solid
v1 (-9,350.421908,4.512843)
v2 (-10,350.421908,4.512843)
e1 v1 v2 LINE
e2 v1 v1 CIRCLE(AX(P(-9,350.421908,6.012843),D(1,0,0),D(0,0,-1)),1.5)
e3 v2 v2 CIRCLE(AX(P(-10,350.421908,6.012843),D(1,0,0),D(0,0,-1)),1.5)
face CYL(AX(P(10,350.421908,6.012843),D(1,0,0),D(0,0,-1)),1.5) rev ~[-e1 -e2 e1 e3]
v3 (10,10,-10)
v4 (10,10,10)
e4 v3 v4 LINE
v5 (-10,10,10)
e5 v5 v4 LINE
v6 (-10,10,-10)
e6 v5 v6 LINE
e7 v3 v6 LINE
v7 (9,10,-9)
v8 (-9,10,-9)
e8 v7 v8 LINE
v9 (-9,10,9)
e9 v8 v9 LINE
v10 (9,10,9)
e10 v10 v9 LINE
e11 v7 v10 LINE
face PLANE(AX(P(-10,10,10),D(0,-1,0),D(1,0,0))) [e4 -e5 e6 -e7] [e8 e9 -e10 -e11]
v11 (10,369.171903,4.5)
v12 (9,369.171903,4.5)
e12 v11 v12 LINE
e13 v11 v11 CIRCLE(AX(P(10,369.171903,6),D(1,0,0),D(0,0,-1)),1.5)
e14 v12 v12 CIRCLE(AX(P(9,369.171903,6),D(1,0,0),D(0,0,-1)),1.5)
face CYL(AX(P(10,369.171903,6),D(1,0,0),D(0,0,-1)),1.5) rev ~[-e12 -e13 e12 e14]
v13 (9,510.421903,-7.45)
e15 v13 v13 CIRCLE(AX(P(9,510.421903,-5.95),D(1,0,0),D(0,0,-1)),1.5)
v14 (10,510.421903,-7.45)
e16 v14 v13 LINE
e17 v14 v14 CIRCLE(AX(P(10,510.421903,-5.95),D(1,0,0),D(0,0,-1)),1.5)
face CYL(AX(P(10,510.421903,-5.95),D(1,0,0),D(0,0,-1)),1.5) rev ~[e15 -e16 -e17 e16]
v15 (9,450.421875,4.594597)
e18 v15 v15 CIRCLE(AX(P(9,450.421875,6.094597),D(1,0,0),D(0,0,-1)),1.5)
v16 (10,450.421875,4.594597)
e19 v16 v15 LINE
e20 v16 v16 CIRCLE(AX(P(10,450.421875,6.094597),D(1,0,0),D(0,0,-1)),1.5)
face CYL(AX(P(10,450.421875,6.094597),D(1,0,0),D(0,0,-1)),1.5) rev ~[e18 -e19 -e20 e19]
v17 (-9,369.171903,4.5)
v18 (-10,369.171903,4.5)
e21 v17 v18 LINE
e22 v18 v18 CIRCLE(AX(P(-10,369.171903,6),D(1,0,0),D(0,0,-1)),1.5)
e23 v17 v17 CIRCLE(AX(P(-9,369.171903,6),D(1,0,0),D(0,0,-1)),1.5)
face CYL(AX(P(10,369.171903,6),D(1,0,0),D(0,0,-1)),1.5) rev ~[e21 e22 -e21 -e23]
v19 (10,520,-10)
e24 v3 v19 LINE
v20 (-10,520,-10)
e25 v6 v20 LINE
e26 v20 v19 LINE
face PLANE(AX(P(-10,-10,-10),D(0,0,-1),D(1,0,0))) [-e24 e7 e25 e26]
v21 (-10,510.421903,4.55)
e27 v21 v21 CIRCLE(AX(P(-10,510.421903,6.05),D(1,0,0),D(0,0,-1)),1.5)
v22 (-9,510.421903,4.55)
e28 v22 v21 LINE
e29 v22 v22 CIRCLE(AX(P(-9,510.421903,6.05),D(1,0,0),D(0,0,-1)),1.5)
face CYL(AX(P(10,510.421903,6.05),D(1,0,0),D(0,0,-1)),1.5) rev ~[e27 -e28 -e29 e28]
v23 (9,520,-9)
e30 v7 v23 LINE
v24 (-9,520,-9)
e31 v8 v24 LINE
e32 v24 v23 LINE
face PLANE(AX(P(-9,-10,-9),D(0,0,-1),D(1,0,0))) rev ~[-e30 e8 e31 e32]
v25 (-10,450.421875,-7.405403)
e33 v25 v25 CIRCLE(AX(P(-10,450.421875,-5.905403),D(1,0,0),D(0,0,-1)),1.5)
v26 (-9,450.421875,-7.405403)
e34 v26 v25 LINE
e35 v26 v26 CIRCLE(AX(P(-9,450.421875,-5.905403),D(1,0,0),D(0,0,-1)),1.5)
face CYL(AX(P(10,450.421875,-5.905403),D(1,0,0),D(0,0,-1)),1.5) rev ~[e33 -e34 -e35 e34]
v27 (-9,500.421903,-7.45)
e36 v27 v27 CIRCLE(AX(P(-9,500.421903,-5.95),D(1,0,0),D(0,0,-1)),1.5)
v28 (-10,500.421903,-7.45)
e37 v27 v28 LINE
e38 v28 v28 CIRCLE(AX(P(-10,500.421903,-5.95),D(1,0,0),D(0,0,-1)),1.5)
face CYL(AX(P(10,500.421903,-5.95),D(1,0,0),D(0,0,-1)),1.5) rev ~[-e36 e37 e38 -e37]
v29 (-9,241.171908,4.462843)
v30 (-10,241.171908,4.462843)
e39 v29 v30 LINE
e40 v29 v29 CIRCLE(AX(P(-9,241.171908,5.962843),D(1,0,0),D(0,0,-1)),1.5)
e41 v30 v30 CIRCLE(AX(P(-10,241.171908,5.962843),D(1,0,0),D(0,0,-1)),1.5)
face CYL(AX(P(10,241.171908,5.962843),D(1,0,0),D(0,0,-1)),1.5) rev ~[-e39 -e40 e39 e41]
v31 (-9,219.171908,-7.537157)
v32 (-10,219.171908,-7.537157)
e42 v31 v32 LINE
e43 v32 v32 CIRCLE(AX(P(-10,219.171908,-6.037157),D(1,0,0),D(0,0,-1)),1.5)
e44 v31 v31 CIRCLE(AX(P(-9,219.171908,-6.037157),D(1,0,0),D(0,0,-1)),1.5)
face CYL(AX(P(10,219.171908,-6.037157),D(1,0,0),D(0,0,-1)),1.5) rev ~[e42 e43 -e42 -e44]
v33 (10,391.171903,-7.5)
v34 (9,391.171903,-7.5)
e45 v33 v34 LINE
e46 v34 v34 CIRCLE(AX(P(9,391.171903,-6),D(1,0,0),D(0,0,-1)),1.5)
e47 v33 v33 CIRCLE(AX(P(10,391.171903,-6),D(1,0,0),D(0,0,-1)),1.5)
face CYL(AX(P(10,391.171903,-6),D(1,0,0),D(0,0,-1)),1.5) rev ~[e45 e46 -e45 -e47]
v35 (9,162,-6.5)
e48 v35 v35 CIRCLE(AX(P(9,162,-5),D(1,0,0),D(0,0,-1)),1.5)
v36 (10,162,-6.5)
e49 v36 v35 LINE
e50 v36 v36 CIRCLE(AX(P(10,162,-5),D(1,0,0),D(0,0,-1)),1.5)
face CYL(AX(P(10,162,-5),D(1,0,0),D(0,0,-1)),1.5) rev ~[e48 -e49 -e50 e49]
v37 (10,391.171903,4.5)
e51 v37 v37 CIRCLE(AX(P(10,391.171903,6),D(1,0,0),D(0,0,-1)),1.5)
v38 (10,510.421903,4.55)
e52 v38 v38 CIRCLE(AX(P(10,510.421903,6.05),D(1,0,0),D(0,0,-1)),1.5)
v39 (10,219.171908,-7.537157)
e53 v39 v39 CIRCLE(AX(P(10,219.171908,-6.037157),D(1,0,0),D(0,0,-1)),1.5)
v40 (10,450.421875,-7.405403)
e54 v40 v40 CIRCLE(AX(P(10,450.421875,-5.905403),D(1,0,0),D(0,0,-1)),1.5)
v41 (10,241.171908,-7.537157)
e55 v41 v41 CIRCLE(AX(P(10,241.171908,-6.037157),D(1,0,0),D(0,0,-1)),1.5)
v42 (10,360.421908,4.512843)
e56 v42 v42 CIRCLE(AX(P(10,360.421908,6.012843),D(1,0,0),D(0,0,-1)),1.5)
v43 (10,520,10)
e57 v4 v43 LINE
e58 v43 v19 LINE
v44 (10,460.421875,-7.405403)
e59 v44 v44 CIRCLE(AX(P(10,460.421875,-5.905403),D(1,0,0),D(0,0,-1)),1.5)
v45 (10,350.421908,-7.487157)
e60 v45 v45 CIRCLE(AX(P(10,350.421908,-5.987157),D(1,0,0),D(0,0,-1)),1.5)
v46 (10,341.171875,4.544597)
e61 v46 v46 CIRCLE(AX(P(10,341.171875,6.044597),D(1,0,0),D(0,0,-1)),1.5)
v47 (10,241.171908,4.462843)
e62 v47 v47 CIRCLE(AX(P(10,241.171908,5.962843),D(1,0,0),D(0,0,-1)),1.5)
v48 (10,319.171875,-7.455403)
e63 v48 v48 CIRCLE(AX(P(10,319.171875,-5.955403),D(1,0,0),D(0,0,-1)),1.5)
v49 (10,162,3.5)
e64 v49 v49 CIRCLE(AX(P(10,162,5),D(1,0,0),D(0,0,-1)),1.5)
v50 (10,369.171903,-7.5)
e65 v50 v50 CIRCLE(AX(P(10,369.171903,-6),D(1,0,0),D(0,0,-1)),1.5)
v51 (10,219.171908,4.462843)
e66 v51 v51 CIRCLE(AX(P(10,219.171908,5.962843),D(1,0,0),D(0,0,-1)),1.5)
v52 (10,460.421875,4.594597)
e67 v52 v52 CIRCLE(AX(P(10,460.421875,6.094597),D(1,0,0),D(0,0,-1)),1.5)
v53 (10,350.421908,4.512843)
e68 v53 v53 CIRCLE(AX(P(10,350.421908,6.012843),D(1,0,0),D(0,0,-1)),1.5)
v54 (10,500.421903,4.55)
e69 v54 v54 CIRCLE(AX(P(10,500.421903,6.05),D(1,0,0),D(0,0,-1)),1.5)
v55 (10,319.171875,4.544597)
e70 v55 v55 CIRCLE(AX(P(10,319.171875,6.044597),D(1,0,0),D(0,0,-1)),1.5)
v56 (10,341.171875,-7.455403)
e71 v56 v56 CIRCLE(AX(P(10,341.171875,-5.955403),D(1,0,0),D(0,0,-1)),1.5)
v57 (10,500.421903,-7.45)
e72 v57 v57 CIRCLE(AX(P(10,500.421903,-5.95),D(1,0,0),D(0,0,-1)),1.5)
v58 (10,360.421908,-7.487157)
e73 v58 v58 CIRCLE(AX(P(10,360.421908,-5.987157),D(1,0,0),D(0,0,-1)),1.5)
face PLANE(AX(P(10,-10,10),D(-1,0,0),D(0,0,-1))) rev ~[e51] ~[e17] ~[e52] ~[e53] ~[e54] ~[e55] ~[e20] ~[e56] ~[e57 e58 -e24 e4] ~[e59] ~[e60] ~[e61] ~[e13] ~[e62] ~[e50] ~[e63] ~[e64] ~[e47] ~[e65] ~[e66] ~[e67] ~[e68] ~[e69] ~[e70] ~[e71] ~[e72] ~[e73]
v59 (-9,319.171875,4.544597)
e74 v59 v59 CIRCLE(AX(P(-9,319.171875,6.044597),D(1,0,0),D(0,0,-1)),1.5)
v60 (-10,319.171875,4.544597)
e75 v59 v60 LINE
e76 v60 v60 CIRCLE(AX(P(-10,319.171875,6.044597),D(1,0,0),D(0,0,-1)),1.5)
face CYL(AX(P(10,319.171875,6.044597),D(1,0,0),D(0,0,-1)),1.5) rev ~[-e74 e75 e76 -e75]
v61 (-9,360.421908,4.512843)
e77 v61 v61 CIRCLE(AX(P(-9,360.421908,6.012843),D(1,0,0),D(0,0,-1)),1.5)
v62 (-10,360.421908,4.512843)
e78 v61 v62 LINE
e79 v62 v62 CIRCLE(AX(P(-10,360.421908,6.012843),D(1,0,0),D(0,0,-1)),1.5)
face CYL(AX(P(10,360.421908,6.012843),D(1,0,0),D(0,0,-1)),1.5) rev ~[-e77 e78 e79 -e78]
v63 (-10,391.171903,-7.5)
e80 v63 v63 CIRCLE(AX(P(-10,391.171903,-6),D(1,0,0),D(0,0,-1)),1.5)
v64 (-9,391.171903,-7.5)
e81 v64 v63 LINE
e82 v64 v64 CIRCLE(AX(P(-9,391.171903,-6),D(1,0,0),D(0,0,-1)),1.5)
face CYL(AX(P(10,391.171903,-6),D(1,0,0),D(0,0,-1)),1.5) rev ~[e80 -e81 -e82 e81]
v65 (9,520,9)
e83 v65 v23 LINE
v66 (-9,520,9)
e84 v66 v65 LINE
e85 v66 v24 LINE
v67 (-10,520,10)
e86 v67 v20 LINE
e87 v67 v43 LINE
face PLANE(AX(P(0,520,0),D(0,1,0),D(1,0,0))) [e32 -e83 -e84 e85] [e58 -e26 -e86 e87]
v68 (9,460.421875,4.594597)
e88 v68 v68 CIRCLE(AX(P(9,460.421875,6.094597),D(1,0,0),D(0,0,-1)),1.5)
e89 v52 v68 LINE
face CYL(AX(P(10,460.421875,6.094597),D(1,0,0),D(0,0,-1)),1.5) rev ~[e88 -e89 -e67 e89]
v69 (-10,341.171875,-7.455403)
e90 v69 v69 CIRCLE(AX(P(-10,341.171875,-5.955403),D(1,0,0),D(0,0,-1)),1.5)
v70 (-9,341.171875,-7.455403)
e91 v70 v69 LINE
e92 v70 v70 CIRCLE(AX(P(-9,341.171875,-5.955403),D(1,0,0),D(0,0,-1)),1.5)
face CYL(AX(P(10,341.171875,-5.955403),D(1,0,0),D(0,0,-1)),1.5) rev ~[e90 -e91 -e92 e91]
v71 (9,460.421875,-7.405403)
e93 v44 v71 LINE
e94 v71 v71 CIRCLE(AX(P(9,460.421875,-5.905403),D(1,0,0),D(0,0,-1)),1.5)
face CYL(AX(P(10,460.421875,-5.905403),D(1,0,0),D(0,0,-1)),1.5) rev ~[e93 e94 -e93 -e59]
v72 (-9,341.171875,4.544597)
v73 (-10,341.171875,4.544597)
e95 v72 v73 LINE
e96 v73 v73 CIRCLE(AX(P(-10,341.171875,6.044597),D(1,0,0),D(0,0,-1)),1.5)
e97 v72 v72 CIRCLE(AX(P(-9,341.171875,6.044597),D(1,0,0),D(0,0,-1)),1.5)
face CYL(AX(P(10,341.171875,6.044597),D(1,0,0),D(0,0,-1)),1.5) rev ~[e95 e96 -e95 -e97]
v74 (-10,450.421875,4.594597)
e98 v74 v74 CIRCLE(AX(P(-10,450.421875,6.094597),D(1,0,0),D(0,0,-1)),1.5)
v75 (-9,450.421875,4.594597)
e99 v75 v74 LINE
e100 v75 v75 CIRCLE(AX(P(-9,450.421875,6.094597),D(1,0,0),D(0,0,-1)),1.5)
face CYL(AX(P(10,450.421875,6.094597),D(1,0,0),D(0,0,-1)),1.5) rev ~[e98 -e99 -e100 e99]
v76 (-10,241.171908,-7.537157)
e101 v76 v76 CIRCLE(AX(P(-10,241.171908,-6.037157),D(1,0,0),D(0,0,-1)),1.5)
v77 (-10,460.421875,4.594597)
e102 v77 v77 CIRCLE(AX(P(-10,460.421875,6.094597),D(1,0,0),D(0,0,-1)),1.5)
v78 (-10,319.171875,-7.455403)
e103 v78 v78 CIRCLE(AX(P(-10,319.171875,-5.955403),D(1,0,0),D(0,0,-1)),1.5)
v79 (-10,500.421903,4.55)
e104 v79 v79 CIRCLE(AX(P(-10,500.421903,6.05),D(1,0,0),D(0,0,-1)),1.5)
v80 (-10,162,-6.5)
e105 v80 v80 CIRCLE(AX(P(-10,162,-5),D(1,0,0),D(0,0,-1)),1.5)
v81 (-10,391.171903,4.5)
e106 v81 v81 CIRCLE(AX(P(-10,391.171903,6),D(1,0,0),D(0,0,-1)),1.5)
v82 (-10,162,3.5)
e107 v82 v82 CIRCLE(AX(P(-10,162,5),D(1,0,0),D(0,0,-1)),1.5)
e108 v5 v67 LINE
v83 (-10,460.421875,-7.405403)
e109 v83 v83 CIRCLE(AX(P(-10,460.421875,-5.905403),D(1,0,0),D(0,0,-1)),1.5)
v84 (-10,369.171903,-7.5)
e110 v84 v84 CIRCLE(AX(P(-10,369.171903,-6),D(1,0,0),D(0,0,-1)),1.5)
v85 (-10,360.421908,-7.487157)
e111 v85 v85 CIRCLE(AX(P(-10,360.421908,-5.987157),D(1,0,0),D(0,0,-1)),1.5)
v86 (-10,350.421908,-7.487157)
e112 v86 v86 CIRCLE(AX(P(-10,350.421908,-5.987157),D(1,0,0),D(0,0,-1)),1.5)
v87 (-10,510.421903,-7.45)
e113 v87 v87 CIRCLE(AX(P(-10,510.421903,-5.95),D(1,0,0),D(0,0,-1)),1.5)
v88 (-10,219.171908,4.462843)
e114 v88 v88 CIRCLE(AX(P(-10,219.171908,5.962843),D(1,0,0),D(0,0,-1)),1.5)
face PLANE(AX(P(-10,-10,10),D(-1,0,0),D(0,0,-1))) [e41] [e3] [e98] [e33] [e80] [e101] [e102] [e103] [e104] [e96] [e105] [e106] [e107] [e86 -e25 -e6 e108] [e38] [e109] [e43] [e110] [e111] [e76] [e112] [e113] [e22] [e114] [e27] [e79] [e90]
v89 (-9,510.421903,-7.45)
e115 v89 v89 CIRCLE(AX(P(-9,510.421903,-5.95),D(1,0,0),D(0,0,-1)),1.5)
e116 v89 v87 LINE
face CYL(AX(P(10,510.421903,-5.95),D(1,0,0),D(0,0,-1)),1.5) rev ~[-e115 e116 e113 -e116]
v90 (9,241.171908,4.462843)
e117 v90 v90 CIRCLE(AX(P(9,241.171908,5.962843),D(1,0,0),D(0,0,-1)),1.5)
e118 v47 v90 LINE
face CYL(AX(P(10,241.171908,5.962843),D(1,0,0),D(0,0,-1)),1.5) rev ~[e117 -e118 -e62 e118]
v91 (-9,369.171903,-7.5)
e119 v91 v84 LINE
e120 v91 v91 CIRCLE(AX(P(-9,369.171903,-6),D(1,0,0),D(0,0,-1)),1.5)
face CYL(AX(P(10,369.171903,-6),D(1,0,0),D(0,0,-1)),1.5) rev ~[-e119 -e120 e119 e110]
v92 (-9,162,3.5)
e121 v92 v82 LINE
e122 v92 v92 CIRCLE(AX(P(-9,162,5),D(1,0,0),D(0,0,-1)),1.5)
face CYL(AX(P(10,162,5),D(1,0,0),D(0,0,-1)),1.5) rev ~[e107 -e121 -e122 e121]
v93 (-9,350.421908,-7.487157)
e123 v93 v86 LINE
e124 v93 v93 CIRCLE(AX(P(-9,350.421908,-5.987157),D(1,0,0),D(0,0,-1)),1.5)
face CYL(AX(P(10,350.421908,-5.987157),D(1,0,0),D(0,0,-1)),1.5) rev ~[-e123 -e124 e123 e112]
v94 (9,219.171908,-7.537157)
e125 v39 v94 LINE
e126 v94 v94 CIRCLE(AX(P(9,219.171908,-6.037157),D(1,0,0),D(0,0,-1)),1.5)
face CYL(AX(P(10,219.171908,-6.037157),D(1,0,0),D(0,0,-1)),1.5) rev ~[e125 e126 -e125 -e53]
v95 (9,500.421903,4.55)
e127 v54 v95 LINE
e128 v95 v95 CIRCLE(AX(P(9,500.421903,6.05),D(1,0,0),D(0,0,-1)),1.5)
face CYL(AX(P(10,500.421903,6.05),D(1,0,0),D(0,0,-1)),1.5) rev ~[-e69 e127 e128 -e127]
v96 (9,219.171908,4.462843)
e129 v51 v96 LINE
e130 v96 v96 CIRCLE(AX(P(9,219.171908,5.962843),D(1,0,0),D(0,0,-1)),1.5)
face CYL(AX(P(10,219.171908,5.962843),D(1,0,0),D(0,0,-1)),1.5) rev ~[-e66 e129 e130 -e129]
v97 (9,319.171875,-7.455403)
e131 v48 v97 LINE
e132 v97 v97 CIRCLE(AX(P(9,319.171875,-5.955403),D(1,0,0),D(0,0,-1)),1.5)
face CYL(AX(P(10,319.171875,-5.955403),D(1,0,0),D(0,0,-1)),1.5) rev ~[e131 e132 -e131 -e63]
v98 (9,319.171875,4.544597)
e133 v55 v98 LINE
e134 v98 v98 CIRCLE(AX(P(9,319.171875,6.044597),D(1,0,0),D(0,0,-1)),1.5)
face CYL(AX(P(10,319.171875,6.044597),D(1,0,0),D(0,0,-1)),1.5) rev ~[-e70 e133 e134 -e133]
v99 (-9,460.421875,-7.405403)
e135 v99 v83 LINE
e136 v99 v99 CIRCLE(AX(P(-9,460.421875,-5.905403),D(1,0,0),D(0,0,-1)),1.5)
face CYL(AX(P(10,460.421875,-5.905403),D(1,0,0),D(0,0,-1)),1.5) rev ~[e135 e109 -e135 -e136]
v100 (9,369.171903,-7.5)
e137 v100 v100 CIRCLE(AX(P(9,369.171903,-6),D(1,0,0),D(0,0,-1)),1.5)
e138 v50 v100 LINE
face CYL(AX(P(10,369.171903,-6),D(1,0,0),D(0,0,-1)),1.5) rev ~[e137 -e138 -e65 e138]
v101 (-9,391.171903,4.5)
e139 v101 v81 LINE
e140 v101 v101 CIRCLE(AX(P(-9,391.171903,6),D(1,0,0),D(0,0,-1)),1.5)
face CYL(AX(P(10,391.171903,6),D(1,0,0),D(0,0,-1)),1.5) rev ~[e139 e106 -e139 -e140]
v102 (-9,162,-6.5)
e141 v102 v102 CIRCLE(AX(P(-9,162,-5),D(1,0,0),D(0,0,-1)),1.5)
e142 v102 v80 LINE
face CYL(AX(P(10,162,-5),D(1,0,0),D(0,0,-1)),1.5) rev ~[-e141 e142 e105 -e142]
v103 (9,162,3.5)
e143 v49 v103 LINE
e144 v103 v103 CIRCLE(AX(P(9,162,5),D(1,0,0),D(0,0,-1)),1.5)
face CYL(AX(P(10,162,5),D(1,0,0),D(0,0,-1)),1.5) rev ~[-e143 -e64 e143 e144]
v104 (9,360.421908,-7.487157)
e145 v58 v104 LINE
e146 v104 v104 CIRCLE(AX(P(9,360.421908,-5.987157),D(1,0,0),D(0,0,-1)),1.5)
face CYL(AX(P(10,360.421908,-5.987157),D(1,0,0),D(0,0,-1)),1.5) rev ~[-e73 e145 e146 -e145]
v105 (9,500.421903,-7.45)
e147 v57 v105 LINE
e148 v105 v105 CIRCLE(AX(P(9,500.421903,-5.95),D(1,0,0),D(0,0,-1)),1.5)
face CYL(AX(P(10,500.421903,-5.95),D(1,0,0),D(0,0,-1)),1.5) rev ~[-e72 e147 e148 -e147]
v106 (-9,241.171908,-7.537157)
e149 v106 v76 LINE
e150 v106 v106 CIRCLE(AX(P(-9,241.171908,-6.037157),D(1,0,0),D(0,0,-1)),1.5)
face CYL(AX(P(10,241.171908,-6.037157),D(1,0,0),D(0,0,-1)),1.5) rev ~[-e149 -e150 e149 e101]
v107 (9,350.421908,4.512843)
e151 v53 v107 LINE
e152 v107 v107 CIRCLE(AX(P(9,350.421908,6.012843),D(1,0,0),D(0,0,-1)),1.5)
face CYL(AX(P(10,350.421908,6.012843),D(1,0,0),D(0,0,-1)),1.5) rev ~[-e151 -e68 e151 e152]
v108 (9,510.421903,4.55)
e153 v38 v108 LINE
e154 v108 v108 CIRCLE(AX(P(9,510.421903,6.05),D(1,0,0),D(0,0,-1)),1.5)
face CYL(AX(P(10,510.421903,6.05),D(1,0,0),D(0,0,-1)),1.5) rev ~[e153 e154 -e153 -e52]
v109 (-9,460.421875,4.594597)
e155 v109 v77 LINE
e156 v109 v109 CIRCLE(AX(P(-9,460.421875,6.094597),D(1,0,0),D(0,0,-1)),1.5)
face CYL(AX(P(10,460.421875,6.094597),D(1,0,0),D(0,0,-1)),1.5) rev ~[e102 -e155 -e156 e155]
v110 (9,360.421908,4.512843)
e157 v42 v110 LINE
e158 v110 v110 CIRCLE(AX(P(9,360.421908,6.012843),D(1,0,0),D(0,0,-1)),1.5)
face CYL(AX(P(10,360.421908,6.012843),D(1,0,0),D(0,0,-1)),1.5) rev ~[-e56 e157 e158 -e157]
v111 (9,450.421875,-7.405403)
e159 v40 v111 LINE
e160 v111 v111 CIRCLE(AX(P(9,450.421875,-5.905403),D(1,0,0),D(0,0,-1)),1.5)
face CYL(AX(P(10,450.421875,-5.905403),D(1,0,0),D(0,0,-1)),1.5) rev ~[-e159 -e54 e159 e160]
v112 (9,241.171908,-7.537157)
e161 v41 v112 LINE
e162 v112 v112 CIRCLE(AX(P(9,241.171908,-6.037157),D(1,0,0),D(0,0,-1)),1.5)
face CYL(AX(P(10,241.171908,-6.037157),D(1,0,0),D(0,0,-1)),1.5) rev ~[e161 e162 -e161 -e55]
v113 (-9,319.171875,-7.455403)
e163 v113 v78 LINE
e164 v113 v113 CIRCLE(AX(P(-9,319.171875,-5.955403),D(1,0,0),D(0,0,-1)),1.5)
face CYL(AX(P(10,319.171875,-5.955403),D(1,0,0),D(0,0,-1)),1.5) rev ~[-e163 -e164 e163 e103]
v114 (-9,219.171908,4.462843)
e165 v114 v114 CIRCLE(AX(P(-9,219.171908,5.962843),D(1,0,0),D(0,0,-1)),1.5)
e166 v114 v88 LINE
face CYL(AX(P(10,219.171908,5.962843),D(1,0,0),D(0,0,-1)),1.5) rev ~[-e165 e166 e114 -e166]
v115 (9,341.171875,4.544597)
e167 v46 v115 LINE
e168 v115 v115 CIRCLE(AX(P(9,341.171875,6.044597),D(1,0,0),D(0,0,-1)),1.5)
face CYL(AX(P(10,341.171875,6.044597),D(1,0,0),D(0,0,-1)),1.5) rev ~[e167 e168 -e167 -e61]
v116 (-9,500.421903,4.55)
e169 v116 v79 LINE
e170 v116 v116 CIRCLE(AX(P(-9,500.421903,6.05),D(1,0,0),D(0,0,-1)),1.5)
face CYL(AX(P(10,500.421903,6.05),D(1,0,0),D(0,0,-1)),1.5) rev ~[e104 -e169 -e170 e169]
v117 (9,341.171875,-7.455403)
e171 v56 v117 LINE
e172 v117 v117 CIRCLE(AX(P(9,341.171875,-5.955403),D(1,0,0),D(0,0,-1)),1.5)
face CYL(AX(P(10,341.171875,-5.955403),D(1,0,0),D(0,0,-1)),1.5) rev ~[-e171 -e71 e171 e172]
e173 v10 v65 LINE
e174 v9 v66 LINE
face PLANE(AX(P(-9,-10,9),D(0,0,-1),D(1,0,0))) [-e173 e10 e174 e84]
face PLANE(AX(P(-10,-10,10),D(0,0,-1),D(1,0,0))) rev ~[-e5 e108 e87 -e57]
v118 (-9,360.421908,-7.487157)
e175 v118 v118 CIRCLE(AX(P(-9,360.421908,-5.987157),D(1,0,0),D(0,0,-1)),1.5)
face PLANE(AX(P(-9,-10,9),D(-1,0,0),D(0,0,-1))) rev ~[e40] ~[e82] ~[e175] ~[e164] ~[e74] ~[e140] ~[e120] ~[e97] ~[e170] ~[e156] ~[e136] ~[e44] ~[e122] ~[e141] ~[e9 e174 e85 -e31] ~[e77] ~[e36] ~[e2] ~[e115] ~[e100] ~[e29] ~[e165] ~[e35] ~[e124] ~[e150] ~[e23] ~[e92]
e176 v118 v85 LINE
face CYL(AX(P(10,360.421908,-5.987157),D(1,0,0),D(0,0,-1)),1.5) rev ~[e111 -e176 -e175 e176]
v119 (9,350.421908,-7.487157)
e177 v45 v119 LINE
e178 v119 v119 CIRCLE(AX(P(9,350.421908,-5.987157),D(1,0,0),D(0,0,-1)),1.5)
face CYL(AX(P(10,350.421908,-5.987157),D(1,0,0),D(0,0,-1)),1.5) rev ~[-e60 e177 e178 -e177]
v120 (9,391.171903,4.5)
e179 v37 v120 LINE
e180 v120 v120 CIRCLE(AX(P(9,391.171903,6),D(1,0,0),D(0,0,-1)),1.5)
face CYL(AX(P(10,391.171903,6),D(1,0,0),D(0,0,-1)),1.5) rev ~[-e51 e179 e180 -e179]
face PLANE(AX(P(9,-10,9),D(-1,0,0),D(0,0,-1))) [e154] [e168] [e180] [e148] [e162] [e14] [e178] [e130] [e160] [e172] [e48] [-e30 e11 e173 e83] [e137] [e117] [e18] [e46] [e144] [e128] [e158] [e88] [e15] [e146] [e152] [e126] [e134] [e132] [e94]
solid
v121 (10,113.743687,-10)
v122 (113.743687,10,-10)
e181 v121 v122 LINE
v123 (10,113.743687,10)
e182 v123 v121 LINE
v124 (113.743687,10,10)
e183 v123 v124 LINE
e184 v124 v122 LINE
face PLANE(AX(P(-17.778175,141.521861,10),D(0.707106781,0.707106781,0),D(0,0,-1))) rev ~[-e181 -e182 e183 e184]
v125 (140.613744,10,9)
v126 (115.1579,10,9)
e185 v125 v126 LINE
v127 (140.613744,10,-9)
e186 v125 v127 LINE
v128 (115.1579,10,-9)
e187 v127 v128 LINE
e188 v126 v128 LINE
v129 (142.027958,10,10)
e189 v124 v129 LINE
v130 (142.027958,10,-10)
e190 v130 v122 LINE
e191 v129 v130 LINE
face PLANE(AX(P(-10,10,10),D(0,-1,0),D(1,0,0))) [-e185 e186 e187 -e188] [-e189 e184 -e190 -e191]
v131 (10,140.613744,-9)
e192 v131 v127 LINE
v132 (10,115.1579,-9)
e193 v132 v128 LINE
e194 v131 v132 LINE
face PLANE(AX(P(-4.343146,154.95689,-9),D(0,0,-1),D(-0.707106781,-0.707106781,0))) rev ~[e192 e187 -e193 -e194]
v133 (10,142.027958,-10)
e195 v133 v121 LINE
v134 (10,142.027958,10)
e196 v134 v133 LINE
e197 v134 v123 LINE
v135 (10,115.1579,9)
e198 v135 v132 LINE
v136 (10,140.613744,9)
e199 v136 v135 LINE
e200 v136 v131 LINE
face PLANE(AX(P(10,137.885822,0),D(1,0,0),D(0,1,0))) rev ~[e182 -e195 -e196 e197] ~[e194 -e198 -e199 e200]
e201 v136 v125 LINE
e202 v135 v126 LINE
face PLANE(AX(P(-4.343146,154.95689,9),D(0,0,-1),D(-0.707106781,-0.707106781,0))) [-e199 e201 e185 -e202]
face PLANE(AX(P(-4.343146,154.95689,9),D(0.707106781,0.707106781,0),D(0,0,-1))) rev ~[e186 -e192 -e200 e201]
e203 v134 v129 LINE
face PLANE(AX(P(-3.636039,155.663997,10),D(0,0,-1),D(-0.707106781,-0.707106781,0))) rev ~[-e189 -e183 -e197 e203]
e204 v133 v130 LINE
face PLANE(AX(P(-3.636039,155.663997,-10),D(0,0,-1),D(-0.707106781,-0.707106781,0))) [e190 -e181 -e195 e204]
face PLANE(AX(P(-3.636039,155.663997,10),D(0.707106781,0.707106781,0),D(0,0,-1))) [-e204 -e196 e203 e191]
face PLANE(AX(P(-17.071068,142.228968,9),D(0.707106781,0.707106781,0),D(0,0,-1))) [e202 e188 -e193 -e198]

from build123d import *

# Parameters (mm, degrees)
HS_20X20X1_1_DEPTH        = 520
HS_20X20X1_1_DEPTH_BACK   = 10
SKETCH_1_W                = 20
SKETCH_1_H                = 20
SKETCH_1_W_2              = 18
SKETCH_1_H_2              = 18
SKETCH_1_ON_SEGMENT_2_W   = 20
SKETCH_1_ON_SEGMENT_2_H   = 20
SKETCH_1_ON_SEGMENT_2_W_2 = 18
SKETCH_1_ON_SEGMENT_2_H_2 = 18
HS_20X20X1_1_2_DEPTH      = 210.142135624
SKETCH_1_ON_SEGMENT_3_W   = 20
SKETCH_1_ON_SEGMENT_3_H   = 20
SKETCH_1_ON_SEGMENT_3_W_2 = 18
SKETCH_1_ON_SEGMENT_3_H_2 = 18
HS_20X20X1_1_3_DEPTH      = 101
SKETCH_2_W                = 110
SKETCH_2_H                = 20
CUT_EXTRUDE_1_DEPTH       = 41
SKETCH_5_R                = 1.5
CUT_EXTRUDE_3_DEPTH       = 41
SKETCH_6_R                = 1.5
CUT_EXTRUDE_4_DEPTH       = 31
SKETCH_7_W                = 205.407074521
SKETCH_7_H                = 37.648309167
CUT_EXTRUDE_5_DEPTH       = 541.196723426
SKETCH_8_R                = 1.5
CUT_EXTRUDE_6_DEPTH       = 537.592379448


with BuildPart() as part:
    # 草图1 → Hs 20X20X1(1) (new, two sides: drawn at the far end of the back side and taken through both)
    with BuildSketch(Plane(origin=(0, 0, 0), x_dir=(1, 0, 0), z_dir=(0, 1, 0)).offset(-HS_20X20X1_1_DEPTH_BACK)):
        Rectangle(SKETCH_1_W, SKETCH_1_H)
        Rectangle(SKETCH_1_W_2, SKETCH_1_H_2, mode=Mode.SUBTRACT)
    extrude(amount=HS_20X20X1_1_DEPTH + HS_20X20X1_1_DEPTH_BACK)


with BuildPart() as body_2:
    # 草图1 on segment 2 (carried to segment 2) → Hs 20X20X1_1 2 (new body)
    with BuildSketch(Plane(origin=(-10.707106781, 148.592929113, 0), x_dir=(-0.707106781, -0.707106781, 0), z_dir=(0.707106781, -0.707106781, 0))):
        Rectangle(SKETCH_1_ON_SEGMENT_2_W, SKETCH_1_ON_SEGMENT_2_H)
        Rectangle(SKETCH_1_ON_SEGMENT_2_W_2, SKETCH_1_ON_SEGMENT_2_H_2, mode=Mode.SUBTRACT)
    extrude(amount=HS_20X20X1_1_2_DEPTH)

    # Hs 20X20X1_1 2 end butt 1
    split(bisect_by=Plane(origin=(10, 137.885822331, 0), x_dir=(0, 1, 0), z_dir=(1, 0, 0)), keep=Keep.TOP)

    # 草图7 → 切除-拉伸5 (cut, through all)
    with BuildSketch(Plane.XY.offset(10)):
        with Locations((92.70353726, -8.824154584)):
            Rectangle(SKETCH_7_W, SKETCH_7_H)
    extrude(amount=-CUT_EXTRUDE_5_DEPTH, mode=Mode.SUBTRACT)


with BuildPart() as body_3:
    # 草图1 on segment 3 (carried to segment 3) → Hs 20X20X1_1 3 (new body)
    with BuildSketch(Plane(origin=(-1, 0, 0), x_dir=(0, -1, 0), z_dir=(1, 0, 0))):
        Rectangle(SKETCH_1_ON_SEGMENT_3_W, SKETCH_1_ON_SEGMENT_3_H)
        Rectangle(SKETCH_1_ON_SEGMENT_3_W_2, SKETCH_1_ON_SEGMENT_3_H_2, mode=Mode.SUBTRACT)
    extrude(amount=HS_20X20X1_1_3_DEPTH)

    # Hs 20X20X1_1 3 end butt 1
    split(bisect_by=Plane.YZ.offset(10), keep=Keep.TOP)


with BuildPart() as cut_extrude_1_tool:
    # 草图2 → 切除-拉伸1 (new body)
    with BuildSketch(Plane.XY.offset(10)):
        with Locations((45, 0)):
            Rectangle(SKETCH_2_W, SKETCH_2_H)
    extrude(amount=-CUT_EXTRUDE_1_DEPTH)


with BuildPart() as part_1:
    add(part.part)

    # 切除-拉伸1: cut by cut_extrude_1_tool
    add(cut_extrude_1_tool.part, mode=Mode.SUBTRACT)

    # 草图5 → 切除-拉伸3 (cut)
    with BuildSketch(Plane(origin=(10, 0, 0), x_dir=(0, 0, -1), z_dir=(1, 0, 0))):
        with Locations((5, 162)):
            Circle(SKETCH_5_R)
        with Locations((-5, 162)):
            Circle(SKETCH_5_R)
    extrude(amount=-CUT_EXTRUDE_3_DEPTH, mode=Mode.SUBTRACT)

    # 草图6 → 切除-拉伸4 (cut)
    with BuildSketch(Plane(origin=(10, 0, 0), x_dir=(0, 0, -1), z_dir=(1, 0, 0))):
        with Locations((-6, 369.17190339)):
            Circle(SKETCH_6_R)
        with Locations((6, 369.17190339)):
            Circle(SKETCH_6_R)
        with Locations((-6, 391.17190339)):
            Circle(SKETCH_6_R)
        with Locations((6, 391.17190339)):
            Circle(SKETCH_6_R)
        with Locations((-6.05, 510.42190339)):
            Circle(SKETCH_6_R)
        with Locations((-6.05, 500.42190339)):
            Circle(SKETCH_6_R)
        with Locations((5.95, 500.42190339)):
            Circle(SKETCH_6_R)
        with Locations((5.95, 510.42190339)):
            Circle(SKETCH_6_R)
    extrude(amount=-CUT_EXTRUDE_4_DEPTH, mode=Mode.SUBTRACT)

    # 草图8 → 切除-拉伸6 (cut, through all)
    with BuildSketch(Plane(origin=(10, 0, 0), x_dir=(0, 0, -1), z_dir=(1, 0, 0))):
        with Locations((6.037156755, 219.171907992)):
            Circle(SKETCH_8_R)
        with Locations((-5.962843245, 219.171907992)):
            Circle(SKETCH_8_R)
        with Locations((6.037156755, 241.171907992)):
            Circle(SKETCH_8_R)
        with Locations((-5.962843245, 241.171907992)):
            Circle(SKETCH_8_R)
        with Locations((5.987156755, 350.421907992)):
            Circle(SKETCH_8_R)
        with Locations((-6.012843245, 350.421907992)):
            Circle(SKETCH_8_R)
        with Locations((5.987156755, 360.421907992)):
            Circle(SKETCH_8_R)
        with Locations((-6.012843245, 360.421907992)):
            Circle(SKETCH_8_R)
        with Locations((5.955402523, 319.171874574)):
            Circle(SKETCH_8_R)
        with Locations((-6.044597477, 319.171874574)):
            Circle(SKETCH_8_R)
        with Locations((5.955402523, 341.171874574)):
            Circle(SKETCH_8_R)
        with Locations((-6.044597477, 341.171874574)):
            Circle(SKETCH_8_R)
        with Locations((5.905402523, 450.421874574)):
            Circle(SKETCH_8_R)
        with Locations((-6.094597477, 450.421874574)):
            Circle(SKETCH_8_R)
        with Locations((5.905402523, 460.421874574)):
            Circle(SKETCH_8_R)
        with Locations((-6.094597477, 460.421874574)):
            Circle(SKETCH_8_R)
    extrude(amount=-CUT_EXTRUDE_6_DEPTH, mode=Mode.SUBTRACT)


with BuildPart() as body_3_1:
    add(body_3.part)

    # 切除-拉伸1: cut by cut_extrude_1_tool
    add(cut_extrude_1_tool.part, mode=Mode.SUBTRACT)


solid = Compound([body_2.part, part_1.part])
